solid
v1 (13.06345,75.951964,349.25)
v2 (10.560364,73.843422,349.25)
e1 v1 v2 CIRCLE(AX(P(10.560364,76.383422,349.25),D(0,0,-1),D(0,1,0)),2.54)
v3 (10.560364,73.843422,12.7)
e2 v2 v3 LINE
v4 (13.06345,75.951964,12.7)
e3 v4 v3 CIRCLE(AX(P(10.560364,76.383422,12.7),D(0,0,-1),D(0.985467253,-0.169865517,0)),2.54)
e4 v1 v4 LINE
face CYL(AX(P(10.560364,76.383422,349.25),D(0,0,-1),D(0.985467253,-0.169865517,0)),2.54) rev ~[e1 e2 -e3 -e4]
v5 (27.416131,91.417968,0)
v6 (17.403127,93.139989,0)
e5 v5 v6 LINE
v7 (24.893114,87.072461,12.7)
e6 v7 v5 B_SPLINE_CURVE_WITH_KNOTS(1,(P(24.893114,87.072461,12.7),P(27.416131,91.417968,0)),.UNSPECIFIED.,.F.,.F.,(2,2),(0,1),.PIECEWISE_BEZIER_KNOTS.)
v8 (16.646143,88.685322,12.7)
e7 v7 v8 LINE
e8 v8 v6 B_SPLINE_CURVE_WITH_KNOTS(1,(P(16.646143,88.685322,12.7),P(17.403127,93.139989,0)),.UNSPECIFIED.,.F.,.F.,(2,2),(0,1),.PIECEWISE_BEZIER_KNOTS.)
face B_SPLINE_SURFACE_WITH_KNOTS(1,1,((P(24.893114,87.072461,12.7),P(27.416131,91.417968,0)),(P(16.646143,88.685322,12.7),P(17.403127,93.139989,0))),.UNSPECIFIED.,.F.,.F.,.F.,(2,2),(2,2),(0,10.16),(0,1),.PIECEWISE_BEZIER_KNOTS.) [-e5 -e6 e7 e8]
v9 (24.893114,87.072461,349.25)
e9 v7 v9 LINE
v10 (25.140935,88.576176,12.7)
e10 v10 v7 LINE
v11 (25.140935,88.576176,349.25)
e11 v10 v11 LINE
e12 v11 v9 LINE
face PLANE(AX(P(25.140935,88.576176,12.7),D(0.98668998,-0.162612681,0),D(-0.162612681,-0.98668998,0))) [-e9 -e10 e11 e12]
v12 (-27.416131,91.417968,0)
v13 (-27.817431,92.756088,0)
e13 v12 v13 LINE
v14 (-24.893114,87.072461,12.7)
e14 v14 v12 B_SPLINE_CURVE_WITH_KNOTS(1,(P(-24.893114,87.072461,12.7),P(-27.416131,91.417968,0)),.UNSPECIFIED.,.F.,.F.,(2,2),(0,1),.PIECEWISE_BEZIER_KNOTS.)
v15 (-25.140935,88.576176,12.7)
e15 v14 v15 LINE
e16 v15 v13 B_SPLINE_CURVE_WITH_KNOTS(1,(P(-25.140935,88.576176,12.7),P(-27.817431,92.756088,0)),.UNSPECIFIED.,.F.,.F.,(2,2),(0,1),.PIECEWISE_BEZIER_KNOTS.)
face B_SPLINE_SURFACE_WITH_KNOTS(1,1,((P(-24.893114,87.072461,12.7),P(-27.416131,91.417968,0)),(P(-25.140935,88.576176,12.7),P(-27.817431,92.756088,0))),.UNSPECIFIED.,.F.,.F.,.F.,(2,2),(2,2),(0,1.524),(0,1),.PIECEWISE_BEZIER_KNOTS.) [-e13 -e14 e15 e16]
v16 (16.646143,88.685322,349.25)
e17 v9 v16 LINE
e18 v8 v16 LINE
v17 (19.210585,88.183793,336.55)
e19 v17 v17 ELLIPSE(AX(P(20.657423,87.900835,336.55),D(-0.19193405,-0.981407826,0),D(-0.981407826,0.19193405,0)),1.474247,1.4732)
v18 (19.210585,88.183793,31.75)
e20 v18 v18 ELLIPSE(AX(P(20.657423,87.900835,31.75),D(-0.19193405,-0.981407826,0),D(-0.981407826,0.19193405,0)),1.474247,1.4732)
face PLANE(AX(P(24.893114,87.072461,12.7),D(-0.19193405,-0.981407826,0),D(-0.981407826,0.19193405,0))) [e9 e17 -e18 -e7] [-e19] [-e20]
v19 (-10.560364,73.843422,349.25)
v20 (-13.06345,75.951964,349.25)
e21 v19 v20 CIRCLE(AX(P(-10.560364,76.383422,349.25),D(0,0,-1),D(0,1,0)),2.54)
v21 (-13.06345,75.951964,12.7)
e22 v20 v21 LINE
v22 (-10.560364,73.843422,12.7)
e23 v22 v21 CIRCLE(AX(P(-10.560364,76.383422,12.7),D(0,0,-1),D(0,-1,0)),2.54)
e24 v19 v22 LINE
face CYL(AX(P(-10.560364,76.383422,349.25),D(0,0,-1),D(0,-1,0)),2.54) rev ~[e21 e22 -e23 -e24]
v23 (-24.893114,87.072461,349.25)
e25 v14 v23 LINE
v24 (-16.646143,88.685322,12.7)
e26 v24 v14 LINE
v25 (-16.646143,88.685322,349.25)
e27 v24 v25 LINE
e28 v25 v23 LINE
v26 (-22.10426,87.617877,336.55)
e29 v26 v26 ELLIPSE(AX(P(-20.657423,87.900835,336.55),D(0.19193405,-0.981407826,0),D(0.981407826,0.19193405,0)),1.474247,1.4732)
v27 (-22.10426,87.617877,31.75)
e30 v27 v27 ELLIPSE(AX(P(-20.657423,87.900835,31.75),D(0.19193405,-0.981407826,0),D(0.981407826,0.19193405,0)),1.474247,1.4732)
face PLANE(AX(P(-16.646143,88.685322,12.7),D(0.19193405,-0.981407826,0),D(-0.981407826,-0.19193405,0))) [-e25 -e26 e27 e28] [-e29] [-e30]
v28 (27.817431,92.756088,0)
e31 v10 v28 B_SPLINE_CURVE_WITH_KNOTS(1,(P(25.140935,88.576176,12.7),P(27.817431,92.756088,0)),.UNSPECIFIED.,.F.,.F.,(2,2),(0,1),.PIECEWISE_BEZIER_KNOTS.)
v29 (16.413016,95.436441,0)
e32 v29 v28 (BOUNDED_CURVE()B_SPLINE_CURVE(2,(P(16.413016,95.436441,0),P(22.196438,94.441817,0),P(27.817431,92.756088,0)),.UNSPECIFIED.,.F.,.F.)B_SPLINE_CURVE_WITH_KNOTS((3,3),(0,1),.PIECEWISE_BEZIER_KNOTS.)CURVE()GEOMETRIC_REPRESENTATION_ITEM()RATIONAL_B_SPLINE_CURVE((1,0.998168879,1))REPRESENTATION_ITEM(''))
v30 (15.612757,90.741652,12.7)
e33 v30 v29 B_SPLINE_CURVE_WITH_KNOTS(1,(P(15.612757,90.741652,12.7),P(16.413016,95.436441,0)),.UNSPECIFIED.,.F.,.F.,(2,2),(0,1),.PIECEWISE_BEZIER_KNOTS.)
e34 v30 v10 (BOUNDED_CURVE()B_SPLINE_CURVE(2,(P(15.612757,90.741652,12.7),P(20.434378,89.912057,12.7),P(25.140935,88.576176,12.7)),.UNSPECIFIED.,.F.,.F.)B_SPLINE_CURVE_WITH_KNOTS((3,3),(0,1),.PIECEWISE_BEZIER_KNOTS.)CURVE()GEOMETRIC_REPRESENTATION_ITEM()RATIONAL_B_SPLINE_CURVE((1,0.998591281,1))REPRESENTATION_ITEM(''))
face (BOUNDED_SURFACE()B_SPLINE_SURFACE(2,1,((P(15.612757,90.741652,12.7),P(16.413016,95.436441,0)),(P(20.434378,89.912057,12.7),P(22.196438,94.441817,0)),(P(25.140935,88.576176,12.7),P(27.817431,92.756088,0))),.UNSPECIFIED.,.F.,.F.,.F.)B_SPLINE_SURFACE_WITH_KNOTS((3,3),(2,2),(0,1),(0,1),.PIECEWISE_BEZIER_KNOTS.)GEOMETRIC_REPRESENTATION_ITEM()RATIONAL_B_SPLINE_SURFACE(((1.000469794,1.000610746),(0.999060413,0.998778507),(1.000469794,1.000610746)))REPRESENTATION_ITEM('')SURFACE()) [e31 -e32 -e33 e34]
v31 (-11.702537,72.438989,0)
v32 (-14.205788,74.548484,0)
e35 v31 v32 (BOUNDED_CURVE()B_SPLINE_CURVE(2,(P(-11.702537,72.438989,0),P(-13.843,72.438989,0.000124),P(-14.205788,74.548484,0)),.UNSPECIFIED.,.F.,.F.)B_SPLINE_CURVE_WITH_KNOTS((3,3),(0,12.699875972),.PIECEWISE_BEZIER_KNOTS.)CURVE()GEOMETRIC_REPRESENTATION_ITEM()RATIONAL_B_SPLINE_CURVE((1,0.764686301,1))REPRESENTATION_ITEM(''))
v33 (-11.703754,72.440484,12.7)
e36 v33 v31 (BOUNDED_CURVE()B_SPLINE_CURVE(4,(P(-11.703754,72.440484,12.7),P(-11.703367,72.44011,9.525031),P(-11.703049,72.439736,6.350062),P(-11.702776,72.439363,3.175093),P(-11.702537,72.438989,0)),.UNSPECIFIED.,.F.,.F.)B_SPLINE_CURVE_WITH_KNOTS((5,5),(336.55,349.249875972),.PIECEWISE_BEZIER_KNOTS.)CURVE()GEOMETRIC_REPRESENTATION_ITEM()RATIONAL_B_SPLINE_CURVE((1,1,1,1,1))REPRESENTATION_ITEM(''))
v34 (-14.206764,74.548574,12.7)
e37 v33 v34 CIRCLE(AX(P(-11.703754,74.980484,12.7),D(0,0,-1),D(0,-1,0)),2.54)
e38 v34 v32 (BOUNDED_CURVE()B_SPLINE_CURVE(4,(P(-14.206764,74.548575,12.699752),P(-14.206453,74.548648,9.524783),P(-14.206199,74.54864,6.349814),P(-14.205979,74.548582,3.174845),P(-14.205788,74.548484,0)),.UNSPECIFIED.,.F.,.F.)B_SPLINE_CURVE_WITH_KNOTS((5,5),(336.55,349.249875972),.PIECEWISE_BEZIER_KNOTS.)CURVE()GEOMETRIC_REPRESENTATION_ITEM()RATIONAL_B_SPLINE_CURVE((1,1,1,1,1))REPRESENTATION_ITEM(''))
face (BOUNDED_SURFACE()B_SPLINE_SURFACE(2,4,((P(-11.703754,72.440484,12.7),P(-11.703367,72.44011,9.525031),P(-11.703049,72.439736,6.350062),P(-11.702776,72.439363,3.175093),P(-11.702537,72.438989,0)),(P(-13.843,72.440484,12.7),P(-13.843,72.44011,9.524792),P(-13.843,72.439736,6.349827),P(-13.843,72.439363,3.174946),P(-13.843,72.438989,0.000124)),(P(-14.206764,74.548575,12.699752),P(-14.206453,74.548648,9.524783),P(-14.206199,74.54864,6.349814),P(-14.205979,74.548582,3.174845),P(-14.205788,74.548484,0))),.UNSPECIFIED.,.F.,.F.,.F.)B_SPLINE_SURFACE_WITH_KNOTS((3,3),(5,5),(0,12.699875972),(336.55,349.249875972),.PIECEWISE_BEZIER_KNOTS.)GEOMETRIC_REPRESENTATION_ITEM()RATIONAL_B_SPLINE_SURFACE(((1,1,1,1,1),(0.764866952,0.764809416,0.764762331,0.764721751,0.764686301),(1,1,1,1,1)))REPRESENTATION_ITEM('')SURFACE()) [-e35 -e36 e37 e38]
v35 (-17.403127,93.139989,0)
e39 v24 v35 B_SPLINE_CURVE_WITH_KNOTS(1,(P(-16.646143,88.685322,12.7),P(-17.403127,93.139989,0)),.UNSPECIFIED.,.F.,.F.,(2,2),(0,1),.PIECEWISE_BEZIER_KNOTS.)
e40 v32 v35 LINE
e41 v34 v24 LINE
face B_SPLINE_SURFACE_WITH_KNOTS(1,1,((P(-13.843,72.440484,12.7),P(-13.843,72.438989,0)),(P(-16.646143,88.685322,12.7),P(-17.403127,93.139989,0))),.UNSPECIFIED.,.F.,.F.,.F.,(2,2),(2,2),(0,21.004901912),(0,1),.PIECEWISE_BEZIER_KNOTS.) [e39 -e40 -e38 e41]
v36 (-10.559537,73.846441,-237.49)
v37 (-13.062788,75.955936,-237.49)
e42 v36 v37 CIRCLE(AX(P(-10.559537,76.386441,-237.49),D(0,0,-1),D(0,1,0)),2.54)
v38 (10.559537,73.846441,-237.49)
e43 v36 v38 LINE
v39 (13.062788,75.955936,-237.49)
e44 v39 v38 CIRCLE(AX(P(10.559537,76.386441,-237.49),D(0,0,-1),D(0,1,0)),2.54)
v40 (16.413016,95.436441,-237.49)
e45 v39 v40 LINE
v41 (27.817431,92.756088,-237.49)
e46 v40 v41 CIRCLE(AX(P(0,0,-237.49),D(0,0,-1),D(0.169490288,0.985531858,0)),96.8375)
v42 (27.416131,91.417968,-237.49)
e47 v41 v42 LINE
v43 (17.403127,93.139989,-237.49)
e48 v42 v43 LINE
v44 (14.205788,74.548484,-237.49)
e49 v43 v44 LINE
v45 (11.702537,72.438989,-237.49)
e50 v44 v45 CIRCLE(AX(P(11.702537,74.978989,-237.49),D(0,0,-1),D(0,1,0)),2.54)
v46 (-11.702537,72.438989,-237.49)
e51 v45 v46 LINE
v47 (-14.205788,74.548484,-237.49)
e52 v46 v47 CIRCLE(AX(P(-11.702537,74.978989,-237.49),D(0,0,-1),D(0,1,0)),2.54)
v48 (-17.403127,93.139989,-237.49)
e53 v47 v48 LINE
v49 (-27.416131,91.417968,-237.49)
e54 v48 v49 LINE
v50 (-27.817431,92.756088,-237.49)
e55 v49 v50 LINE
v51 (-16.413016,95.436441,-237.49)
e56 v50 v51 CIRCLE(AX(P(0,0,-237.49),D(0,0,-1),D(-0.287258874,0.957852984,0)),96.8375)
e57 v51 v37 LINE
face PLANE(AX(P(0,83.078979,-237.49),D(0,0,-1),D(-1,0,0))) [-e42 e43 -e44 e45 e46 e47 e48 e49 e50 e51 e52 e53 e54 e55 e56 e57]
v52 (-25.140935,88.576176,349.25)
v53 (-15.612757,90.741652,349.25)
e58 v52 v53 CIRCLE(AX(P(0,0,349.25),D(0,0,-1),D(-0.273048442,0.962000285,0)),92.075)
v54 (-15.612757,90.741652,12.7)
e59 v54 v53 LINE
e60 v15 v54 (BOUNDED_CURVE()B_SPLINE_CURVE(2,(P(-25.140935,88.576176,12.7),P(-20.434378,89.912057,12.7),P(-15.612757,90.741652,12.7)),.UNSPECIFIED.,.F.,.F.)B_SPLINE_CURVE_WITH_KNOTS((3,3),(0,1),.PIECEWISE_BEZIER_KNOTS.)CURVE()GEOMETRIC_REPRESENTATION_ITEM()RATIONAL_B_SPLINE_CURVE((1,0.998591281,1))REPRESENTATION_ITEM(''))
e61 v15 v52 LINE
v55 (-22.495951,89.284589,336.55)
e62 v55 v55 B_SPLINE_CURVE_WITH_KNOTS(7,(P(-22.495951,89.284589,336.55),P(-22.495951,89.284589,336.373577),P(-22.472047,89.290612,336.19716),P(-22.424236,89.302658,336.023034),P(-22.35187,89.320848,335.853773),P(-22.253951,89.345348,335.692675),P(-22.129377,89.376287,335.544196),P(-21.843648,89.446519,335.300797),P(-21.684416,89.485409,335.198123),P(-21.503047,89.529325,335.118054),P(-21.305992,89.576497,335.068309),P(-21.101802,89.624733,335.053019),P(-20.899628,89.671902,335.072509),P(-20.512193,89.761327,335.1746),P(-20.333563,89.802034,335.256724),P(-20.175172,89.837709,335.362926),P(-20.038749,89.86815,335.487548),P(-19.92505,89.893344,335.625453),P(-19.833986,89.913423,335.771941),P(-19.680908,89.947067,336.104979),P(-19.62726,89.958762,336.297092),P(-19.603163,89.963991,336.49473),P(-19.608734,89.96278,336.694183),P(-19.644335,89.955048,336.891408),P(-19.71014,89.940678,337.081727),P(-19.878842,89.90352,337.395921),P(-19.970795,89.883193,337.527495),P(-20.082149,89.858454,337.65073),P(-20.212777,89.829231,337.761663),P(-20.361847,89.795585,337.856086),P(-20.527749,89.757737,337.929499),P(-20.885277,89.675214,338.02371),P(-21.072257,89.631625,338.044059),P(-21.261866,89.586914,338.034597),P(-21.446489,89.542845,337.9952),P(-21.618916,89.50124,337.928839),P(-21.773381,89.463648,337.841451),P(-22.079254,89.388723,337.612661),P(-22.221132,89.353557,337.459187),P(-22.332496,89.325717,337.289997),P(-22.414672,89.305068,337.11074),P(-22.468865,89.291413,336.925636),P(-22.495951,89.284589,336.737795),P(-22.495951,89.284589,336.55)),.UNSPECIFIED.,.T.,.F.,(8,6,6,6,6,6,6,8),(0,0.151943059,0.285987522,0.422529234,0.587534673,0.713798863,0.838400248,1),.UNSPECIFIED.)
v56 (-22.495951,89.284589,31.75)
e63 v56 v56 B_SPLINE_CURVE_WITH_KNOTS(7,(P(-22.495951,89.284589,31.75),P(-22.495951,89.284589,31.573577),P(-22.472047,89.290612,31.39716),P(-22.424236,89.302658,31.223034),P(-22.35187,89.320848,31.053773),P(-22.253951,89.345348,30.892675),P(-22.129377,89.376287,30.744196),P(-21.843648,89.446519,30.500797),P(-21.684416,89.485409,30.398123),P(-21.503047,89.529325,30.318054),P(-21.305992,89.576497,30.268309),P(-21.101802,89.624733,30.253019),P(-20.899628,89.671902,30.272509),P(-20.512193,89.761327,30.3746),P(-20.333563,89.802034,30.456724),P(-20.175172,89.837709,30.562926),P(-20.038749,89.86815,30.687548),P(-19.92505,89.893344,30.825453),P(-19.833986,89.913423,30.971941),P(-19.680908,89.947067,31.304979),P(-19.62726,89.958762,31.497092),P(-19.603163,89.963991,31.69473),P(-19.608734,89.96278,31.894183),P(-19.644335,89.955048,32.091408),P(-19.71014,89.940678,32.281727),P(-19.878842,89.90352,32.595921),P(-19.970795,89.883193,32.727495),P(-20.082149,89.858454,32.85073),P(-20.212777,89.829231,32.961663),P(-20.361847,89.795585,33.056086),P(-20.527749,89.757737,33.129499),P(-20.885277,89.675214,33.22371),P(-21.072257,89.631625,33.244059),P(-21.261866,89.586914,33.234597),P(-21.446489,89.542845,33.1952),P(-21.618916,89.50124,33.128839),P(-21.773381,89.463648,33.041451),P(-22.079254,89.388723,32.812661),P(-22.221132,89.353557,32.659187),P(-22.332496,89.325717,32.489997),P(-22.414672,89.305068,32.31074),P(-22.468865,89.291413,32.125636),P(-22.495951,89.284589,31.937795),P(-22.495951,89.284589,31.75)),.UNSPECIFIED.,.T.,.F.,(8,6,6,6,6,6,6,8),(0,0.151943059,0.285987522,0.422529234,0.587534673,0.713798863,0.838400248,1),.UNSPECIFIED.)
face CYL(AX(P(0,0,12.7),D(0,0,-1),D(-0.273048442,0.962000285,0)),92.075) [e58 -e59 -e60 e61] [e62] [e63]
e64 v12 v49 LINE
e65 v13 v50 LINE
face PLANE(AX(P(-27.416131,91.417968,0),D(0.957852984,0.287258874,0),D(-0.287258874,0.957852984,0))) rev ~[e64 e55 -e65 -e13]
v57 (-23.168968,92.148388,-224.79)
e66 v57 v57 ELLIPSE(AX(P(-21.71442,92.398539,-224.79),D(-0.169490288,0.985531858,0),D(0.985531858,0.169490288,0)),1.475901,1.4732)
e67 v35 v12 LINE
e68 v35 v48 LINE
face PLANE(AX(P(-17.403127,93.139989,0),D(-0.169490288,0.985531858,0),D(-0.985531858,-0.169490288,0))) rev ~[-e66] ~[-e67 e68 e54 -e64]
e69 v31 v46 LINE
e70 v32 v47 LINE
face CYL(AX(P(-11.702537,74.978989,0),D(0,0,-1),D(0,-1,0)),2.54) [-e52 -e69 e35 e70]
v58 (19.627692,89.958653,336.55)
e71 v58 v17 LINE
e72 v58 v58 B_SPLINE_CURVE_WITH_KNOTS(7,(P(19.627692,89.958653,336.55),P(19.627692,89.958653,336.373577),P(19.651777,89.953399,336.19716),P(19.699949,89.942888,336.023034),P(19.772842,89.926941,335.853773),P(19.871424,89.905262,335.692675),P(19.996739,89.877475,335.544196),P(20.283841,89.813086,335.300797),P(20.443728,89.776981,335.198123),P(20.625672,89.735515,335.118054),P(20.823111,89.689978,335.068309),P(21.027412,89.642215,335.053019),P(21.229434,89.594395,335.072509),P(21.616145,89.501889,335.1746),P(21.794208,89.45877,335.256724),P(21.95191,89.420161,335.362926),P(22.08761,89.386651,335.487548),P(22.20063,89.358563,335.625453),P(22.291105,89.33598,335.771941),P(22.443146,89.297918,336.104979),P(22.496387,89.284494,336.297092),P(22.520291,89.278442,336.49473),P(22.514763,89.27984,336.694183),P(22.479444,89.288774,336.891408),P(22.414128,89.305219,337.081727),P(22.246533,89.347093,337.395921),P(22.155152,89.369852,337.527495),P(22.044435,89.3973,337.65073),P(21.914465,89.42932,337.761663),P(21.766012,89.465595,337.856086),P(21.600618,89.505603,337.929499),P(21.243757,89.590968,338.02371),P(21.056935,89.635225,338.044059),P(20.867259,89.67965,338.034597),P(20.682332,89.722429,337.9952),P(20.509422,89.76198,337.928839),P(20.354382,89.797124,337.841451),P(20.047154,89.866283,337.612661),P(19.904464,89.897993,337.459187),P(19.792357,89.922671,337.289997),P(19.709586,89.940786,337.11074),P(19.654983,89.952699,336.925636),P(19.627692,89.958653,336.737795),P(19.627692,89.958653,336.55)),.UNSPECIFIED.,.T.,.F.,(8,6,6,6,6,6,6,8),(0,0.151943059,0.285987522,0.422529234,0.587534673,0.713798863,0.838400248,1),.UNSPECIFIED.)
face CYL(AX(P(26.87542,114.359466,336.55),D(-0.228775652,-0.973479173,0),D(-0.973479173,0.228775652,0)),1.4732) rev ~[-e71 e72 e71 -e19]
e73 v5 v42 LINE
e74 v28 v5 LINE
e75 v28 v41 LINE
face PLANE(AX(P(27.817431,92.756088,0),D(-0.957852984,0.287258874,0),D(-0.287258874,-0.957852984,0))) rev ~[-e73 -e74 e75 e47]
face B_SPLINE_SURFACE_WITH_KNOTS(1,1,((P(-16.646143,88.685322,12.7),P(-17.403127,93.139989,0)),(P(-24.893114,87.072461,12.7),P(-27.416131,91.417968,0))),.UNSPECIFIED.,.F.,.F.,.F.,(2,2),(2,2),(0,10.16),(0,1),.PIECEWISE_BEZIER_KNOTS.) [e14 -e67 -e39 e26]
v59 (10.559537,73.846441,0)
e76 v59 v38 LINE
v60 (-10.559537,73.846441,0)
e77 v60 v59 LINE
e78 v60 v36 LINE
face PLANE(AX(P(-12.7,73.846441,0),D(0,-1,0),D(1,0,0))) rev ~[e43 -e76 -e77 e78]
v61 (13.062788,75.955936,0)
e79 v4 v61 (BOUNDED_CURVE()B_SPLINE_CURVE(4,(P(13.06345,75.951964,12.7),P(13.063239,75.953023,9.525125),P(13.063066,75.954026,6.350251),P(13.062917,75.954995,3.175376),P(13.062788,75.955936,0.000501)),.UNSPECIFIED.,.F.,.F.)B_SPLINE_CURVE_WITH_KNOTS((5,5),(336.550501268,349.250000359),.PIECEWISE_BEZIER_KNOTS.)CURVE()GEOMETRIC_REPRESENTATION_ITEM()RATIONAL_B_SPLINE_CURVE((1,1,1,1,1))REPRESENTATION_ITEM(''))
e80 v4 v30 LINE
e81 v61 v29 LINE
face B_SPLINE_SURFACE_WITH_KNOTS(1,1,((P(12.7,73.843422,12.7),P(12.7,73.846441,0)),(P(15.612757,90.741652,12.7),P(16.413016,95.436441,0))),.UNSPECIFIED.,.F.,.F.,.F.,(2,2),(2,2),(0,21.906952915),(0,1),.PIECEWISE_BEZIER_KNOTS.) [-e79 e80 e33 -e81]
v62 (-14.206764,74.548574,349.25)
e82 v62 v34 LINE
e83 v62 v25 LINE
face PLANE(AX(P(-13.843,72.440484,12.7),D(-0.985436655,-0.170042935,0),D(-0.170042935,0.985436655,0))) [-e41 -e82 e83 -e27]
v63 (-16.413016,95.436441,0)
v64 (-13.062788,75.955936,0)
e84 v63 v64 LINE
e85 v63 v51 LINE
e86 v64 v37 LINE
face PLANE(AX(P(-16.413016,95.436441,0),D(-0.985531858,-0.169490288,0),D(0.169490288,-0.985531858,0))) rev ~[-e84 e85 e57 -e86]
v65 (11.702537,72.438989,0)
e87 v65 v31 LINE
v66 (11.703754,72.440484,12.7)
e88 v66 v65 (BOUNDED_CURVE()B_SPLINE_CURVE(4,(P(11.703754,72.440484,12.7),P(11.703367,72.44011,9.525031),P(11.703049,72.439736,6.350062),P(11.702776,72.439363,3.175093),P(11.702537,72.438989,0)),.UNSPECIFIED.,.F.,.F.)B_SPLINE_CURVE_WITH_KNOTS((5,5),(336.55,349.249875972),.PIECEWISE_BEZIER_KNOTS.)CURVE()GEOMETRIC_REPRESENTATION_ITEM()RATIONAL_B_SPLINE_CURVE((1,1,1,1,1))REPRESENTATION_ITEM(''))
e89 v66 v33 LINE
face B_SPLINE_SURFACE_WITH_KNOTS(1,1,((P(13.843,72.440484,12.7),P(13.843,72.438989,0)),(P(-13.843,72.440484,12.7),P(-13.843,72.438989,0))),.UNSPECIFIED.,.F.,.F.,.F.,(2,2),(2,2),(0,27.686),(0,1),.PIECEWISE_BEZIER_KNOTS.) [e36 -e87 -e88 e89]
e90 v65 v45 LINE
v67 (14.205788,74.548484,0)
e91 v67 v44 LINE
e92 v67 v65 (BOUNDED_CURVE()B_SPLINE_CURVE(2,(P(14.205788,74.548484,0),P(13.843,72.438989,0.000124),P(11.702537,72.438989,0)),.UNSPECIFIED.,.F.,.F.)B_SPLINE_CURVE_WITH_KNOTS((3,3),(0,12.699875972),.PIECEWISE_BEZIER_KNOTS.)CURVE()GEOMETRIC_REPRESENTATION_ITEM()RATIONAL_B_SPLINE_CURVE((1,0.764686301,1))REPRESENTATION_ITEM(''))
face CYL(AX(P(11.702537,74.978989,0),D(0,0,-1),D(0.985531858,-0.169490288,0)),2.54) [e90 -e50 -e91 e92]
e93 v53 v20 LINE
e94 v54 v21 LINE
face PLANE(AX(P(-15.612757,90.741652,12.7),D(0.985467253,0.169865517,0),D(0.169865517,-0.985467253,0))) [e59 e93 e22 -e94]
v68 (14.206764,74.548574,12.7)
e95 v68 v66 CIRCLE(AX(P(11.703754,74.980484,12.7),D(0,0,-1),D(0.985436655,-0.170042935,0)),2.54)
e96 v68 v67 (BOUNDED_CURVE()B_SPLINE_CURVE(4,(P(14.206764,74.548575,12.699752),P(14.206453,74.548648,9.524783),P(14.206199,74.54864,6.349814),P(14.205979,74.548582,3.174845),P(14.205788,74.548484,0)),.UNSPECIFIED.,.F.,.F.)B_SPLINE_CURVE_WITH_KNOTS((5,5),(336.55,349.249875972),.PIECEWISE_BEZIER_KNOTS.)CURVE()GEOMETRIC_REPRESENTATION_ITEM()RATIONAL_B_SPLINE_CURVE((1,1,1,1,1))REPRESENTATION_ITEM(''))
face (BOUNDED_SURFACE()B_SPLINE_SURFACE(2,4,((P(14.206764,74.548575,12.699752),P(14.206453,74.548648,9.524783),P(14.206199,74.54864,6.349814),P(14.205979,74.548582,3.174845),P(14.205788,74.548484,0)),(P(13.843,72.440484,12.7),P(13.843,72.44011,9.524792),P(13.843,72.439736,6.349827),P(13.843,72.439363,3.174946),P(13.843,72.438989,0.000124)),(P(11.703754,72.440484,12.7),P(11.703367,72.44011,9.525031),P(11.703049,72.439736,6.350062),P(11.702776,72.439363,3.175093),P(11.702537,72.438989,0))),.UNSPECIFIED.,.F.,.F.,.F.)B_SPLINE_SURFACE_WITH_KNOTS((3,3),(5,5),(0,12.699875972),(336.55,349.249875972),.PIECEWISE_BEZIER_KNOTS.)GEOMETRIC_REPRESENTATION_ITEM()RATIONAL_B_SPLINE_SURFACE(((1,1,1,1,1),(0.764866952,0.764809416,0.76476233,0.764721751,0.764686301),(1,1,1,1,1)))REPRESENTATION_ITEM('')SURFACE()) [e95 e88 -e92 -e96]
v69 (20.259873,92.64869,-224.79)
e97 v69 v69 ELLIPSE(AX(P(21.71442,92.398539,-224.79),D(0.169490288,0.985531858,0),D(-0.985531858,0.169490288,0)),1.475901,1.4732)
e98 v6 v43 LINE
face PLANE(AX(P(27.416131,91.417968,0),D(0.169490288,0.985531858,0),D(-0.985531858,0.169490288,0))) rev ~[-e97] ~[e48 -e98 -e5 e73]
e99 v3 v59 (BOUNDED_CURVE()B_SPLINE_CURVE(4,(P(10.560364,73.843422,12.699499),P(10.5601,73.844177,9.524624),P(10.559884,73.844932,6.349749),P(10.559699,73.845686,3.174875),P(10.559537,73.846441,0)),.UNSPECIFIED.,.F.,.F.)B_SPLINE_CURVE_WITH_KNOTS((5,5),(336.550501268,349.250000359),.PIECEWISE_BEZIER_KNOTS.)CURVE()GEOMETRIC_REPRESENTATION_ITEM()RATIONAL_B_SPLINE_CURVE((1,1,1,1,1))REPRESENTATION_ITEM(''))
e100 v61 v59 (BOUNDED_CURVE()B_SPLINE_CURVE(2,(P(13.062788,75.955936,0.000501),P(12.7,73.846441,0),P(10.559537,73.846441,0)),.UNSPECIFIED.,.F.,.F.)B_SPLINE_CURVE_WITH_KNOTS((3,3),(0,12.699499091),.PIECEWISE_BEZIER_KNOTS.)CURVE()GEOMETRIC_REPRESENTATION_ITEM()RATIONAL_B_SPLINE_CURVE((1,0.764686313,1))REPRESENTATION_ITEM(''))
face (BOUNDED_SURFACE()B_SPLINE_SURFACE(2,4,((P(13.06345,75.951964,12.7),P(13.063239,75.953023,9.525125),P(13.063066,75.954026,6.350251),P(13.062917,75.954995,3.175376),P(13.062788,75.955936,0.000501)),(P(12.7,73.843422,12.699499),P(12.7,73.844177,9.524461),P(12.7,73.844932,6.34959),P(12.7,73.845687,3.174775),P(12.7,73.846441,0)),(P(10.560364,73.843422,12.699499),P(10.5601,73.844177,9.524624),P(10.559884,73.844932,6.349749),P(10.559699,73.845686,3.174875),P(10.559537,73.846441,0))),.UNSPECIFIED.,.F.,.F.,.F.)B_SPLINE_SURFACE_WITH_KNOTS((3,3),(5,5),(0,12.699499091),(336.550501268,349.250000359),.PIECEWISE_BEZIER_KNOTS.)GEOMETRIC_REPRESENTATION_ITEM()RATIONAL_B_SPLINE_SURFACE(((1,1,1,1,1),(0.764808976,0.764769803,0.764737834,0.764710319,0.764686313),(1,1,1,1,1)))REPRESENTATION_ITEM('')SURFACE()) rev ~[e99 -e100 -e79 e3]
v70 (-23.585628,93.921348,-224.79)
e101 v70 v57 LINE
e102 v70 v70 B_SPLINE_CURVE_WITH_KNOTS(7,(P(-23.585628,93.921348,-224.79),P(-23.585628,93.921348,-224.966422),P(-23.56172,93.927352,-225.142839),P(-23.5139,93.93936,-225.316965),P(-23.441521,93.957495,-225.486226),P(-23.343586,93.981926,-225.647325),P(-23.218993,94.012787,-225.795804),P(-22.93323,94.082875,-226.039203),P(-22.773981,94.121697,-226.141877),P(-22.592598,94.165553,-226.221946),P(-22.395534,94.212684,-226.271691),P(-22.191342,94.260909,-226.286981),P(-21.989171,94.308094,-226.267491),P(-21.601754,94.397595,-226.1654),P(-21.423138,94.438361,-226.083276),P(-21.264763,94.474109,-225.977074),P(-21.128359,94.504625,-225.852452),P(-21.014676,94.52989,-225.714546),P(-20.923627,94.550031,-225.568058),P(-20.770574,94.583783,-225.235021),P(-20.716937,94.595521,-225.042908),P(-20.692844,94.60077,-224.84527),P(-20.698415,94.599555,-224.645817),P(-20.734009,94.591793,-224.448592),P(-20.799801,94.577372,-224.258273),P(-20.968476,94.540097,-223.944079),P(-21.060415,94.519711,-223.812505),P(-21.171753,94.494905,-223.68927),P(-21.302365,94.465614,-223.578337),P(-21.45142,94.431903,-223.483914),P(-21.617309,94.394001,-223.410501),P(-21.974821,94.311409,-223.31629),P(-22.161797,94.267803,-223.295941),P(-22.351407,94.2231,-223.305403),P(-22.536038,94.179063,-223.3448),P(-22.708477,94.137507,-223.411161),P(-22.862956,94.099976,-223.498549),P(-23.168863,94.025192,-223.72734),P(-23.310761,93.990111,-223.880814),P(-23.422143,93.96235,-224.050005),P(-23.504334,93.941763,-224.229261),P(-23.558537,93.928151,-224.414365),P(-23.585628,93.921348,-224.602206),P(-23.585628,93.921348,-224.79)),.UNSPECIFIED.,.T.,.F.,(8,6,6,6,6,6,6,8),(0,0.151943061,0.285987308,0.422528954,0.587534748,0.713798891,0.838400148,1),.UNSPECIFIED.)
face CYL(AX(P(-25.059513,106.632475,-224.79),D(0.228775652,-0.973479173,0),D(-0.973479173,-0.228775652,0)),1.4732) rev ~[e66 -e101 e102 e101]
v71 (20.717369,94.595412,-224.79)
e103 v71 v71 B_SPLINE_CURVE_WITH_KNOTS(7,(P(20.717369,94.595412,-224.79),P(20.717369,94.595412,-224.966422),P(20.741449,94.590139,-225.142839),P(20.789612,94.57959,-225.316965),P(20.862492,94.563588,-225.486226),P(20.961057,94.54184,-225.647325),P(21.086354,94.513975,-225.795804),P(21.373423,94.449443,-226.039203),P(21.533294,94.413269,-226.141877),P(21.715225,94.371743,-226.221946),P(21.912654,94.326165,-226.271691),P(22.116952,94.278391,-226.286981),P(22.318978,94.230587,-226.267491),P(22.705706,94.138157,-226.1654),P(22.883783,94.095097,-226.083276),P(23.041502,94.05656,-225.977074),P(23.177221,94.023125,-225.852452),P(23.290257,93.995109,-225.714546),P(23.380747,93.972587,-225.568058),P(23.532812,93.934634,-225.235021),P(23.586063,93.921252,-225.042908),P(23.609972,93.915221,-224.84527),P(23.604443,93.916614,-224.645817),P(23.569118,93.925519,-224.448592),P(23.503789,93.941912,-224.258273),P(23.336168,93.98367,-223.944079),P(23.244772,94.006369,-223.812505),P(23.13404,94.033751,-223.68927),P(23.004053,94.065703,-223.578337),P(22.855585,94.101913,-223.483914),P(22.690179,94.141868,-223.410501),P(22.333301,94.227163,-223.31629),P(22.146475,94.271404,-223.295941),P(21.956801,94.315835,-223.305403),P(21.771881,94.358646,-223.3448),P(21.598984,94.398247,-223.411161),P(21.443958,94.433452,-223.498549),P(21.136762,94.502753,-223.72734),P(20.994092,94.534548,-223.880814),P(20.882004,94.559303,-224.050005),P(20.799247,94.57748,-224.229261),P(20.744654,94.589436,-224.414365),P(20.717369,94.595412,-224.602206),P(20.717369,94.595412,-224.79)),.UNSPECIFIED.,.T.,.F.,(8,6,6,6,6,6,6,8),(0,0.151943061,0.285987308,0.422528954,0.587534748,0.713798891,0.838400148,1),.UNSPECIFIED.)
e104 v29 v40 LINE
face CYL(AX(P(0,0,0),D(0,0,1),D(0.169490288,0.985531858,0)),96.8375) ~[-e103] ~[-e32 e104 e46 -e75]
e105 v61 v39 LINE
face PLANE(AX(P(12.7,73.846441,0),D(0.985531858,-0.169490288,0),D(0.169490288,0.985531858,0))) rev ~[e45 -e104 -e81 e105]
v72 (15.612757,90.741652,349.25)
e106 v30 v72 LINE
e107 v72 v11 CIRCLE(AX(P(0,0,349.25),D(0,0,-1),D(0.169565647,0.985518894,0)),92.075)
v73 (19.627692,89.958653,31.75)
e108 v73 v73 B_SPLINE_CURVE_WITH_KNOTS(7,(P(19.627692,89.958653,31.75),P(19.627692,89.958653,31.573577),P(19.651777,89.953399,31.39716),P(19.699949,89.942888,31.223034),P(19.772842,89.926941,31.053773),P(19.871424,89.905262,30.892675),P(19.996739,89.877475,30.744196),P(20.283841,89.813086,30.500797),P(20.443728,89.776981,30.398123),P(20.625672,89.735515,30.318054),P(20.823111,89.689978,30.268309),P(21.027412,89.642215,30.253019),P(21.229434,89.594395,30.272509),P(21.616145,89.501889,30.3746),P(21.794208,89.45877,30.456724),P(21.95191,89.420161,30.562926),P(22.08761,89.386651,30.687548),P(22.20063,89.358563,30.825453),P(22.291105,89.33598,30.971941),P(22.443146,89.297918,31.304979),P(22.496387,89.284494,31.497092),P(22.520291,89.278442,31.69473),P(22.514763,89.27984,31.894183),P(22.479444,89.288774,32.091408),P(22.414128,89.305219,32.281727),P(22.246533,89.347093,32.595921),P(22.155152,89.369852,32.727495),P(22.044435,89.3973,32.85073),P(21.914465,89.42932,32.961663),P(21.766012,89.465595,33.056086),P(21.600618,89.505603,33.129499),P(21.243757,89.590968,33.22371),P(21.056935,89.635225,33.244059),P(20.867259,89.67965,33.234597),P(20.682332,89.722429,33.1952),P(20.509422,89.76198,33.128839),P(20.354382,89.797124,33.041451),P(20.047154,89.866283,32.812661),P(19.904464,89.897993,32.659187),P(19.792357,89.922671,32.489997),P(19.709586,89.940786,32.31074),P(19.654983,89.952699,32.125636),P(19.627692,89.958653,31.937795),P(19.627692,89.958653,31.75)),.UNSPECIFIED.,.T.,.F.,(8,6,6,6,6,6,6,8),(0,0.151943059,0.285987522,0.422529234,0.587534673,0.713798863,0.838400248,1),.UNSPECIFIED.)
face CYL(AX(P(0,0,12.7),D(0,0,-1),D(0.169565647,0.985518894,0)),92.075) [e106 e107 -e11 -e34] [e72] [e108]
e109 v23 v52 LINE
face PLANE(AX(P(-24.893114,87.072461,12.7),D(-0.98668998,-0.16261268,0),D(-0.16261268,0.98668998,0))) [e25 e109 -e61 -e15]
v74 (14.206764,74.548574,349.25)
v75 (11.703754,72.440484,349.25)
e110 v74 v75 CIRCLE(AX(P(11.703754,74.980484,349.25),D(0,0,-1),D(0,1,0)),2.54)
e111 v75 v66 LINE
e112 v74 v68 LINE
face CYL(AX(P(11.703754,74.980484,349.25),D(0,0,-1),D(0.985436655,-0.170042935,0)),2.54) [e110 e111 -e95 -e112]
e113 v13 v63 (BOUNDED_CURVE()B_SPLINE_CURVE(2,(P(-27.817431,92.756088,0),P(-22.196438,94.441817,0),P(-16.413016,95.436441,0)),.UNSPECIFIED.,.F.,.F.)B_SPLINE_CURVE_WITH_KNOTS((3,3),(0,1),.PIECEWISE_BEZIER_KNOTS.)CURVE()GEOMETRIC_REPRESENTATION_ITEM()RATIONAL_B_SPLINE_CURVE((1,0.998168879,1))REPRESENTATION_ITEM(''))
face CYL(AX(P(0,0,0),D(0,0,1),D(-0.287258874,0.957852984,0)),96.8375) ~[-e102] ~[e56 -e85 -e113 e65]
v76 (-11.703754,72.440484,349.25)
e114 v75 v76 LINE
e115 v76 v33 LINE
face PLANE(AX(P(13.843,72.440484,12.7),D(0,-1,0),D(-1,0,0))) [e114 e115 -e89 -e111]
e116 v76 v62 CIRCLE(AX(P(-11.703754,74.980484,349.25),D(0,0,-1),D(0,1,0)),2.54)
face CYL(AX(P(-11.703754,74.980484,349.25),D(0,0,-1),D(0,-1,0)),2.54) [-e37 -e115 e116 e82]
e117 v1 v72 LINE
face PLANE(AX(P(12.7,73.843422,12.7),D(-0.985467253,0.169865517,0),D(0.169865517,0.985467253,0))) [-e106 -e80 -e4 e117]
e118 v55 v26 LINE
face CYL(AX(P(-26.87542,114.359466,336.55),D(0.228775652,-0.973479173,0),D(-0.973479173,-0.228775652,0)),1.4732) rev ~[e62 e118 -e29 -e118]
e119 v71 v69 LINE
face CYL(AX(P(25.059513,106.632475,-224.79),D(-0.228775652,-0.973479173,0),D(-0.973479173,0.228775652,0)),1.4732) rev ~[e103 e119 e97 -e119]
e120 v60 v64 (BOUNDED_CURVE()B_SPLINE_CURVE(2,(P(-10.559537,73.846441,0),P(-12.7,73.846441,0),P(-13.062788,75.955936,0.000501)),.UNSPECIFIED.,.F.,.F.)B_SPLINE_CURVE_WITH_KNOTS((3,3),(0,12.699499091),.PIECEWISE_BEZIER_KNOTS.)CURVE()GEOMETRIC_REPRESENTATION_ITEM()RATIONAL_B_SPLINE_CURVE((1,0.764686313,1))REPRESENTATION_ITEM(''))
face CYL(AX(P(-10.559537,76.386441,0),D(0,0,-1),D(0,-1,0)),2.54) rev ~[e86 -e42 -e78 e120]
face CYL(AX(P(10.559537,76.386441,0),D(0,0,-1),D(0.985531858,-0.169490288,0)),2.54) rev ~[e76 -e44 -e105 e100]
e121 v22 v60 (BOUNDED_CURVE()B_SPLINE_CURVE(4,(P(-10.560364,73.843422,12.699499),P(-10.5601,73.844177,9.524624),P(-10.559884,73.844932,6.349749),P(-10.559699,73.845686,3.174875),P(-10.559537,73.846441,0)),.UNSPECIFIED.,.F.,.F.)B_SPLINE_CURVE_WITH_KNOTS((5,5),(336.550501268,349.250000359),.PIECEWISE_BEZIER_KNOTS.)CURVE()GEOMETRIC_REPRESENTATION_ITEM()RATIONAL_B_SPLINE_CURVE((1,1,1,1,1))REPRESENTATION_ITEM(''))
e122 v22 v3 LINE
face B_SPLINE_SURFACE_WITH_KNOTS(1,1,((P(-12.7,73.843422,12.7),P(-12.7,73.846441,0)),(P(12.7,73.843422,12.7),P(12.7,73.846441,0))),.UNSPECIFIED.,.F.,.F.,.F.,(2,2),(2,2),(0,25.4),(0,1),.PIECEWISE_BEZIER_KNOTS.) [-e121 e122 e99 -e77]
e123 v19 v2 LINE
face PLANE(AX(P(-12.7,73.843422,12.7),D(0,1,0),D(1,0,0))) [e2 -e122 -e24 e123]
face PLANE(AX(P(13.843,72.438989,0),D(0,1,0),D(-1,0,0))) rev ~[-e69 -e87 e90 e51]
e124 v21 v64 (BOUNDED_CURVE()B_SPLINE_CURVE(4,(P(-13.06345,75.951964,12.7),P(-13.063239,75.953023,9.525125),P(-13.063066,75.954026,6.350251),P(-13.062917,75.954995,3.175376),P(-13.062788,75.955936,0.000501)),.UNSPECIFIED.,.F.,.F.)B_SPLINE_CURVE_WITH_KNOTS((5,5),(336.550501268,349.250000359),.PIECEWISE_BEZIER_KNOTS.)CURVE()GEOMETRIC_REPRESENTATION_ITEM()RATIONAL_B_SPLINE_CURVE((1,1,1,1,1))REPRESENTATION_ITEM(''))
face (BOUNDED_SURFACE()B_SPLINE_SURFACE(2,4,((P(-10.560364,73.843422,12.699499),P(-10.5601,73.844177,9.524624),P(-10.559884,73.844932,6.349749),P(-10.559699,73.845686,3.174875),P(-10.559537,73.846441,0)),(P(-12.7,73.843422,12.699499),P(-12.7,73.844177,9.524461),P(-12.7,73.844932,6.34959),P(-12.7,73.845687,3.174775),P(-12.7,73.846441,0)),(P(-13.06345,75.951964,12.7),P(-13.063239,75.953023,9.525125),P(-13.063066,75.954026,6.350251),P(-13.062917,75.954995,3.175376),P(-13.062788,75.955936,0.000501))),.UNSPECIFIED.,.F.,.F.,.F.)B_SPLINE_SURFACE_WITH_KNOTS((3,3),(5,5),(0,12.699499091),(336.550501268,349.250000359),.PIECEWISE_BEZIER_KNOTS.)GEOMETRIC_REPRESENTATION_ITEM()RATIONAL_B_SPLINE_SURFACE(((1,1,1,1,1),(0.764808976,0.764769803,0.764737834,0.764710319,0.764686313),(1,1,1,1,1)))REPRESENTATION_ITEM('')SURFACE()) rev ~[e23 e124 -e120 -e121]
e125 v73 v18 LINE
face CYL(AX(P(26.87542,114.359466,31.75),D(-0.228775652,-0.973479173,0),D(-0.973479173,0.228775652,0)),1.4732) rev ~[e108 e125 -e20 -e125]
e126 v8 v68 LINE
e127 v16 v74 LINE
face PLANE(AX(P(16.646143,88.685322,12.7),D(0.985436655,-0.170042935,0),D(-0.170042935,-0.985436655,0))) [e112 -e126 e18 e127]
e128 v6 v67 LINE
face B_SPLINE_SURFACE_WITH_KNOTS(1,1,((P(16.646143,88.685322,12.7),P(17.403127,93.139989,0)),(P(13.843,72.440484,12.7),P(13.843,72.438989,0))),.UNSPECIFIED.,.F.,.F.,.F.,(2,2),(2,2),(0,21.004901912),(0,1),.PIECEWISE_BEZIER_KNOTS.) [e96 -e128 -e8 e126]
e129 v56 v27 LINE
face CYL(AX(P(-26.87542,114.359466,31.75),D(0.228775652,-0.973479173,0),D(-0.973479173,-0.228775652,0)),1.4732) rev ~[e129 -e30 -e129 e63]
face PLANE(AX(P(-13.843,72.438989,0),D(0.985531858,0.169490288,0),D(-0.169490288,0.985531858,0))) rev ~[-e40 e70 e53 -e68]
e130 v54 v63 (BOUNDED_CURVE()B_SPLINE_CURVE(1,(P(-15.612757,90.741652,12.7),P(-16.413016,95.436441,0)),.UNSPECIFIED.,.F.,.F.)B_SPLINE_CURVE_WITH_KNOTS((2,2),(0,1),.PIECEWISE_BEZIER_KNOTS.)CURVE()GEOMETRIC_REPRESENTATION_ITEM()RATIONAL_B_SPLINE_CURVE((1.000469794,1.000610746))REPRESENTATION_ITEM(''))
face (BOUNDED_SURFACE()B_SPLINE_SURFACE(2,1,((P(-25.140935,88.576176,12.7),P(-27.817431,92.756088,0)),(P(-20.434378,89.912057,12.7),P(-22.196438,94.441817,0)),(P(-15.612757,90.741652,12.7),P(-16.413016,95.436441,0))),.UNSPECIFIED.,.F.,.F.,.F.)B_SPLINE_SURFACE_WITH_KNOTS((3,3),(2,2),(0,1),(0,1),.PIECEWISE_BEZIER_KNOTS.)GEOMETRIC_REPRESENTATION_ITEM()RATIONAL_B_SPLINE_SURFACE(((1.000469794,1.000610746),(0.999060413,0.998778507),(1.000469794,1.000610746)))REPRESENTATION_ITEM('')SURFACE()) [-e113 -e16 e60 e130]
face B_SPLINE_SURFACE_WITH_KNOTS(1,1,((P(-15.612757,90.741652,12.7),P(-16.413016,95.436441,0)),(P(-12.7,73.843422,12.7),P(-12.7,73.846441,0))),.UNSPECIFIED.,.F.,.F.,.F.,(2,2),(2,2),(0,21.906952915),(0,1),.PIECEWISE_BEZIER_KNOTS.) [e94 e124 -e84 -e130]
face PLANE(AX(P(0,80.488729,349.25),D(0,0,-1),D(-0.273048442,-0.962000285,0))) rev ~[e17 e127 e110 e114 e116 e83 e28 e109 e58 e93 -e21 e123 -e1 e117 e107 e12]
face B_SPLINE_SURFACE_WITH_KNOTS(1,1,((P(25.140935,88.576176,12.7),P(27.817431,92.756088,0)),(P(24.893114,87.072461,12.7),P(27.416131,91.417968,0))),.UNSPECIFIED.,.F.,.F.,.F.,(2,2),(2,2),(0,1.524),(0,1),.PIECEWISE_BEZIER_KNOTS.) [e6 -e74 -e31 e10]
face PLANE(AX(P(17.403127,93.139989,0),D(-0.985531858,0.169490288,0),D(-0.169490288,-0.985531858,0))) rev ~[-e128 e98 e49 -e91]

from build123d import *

# Parameters (mm, degrees)
BOSS_EXTRUDE1_DEPTH       = 237.49
BOSS_EXTRUDE2_DEPTH       = 336.55
FILLET1_R                 = 2.54
FILLET2_R                 = 2.54
F_4_CLEARANCE_HOLE3_D     = 2.9464
F_4_CLEARANCE_HOLE3_DEPTH = 25.4
F_4_CLEARANCE_HOLE3_TIP   = 0.885187864
F_4_CLEARANCE_HOLE4_D     = 2.9464
F_4_CLEARANCE_HOLE4_DEPTH = 25.4
F_4_CLEARANCE_HOLE4_TIP   = 0.885187864
F_4_CLEARANCE_HOLE5_D     = 2.9464
F_4_CLEARANCE_HOLE5_DEPTH = 12.7
F_4_CLEARANCE_HOLE5_TIP   = 0.885187864
F_4_CLEARANCE_HOLE6_D     = 2.9464
F_4_CLEARANCE_HOLE6_DEPTH = 12.7
F_4_CLEARANCE_HOLE6_TIP   = 0.885187864


with BuildPart() as part:
    # 3DSketch1 for Loft2 → Loft2 section 0
    with BuildSketch(Plane(origin=(25.14093528, 88.576176245, 12.7), x_dir=(-0.2730484418088959, -0.9620002850445181, 0), z_dir=(0, 0, -1))):
        with BuildLine():
            Line((0, 0), (1.514242104, -0.172182612))
            Line((1.514242104, -0.172182612), (2.214491758, 8.20179449))
            Line((2.214491758, 8.20179449), (18.60742462, 6.462791205))
            Line((18.60742462, 6.462791205), (26.167043779, 33.096731096))
            Line((26.167043779, 33.096731096), (11.304898639, 40.22898334))
            Line((11.304898639, 40.22898334), (15.108293839, 47.722182058))
            Line((15.108293839, 47.722182058), (13.729386407, 48.37117381))
            # circular arc as an exact rational Bezier (weights 1, cos(half-angle), 1)
            Bezier((13.729386407, 48.37117381), (11.15915023, 44.208224795), (9.044543669, 39.796343381), weights=[1, 0.998591281, 1])
            Line((9.044543669, 39.796343381), (24.505322138, 32.380234952))
            Line((24.505322138, 32.380234952), (17.569891716, 7.945427712))
            Line((17.569891716, 7.945427712), (0.518465753, 9.757390103))
            Bezier((0.518465753, 9.757390103), (0, 4.892469572), (0, 0), weights=[1, 0.998591281, 1])
        make_face()
    # Sketch1 for Loft2 → Loft2 section 1
    with BuildSketch(Plane.XY):
        with BuildLine():
            Line((-12.7, 73.846441258), (12.7, 73.846441258))
            Line((12.7, 73.846441258), (16.413015757, 95.436441258))
            Bezier((16.413015757, 95.436441258), (22.196437798, 94.441817026), (27.817431193, 92.756088361), weights=[1, 0.998168879, 1])
            Line((27.817431193, 92.756088361), (27.416130546, 91.417967742))
            Line((27.416130546, 91.417967742), (17.403126873, 93.139989068))
            Line((17.403126873, 93.139989068), (13.843, 72.438989068))
            Line((13.843, 72.438989068), (-13.843, 72.438989068))
            Line((-13.843, 72.438989068), (-17.403126873, 93.139989068))
            Line((-17.403126873, 93.139989068), (-27.416130546, 91.417967742))
            Line((-27.416130546, 91.417967742), (-27.817431193, 92.756088361))
            Bezier((-27.817431193, 92.756088361), (-22.196437798, 94.441817026), (-16.413015757, 95.436441258), weights=[1, 0.998168879, 1])
            Line((-16.413015757, 95.436441258), (-12.7, 73.846441258))
        make_face()
    loft()

    # Sketch1<4> → Boss-Extrude1 (add)
    with BuildSketch(Plane.XY):
        with BuildLine():
            Line((-12.7, 73.846441258), (12.7, 73.846441258))
            Line((12.7, 73.846441258), (16.413015757, 95.436441258))
            ThreePointArc((16.413015757, 95.436441258), (22.155793424, 94.268882586), (27.817431193, 92.756088361))
            Line((27.817431193, 92.756088361), (27.416130546, 91.417967742))
            Line((27.416130546, 91.417967742), (17.403126873, 93.139989068))
            Line((17.403126873, 93.139989068), (13.843, 72.438989068))
            Line((13.843, 72.438989068), (-13.843, 72.438989068))
            Line((-13.843, 72.438989068), (-17.403126873, 93.139989068))
            Line((-17.403126873, 93.139989068), (-27.416130546, 91.417967742))
            Line((-27.416130546, 91.417967742), (-27.817431193, 92.756088361))
            ThreePointArc((-27.817431193, 92.756088361), (-22.155793424, 94.268882586), (-16.413015757, 95.436441258))
            Line((-16.413015757, 95.436441258), (-12.7, 73.846441258))
        make_face()
    extrude(amount=-BOSS_EXTRUDE1_DEPTH)

    # 3DSketch1<4> → Boss-Extrude2 (add)
    with BuildSketch(Plane(origin=(25.14093528, 88.576176245, 12.7), x_dir=(-0.2730484418088959, -0.9620002850445181, 0), z_dir=(0, 0, -1))):
        with BuildLine():
            Line((0, 0), (1.514242104, -0.172182612))
            Line((1.514242104, -0.172182612), (2.214491758, 8.20179449))
            Line((2.214491758, 8.20179449), (18.60742462, 6.462791205))
            Line((18.60742462, 6.462791205), (26.167043779, 33.096731096))
            Line((26.167043779, 33.096731096), (11.304898639, 40.22898334))
            Line((11.304898639, 40.22898334), (15.108293839, 47.722182058))
            Line((15.108293839, 47.722182058), (13.729386407, 48.37117381))
            ThreePointArc((13.729386407, 48.37117381), (11.273137923, 44.14594783), (9.044543669, 39.796343381))
            Line((9.044543669, 39.796343381), (24.505322138, 32.380234952))
            Line((24.505322138, 32.380234952), (17.569891716, 7.945427712))
            Line((17.569891716, 7.945427712), (0.518465753, 9.757390103))
            ThreePointArc((0.518465753, 9.757390103), (0.129707799, 4.885577457), (0, 0))
        make_face()
    extrude(amount=-BOSS_EXTRUDE2_DEPTH)

    # Fillet1
    fillet1_edges = [part.edges().sort_by_distance(p)[0] for p in [
        (-13.843, 72.438989068, -118.745),
        (-13.843, 72.439736297, 6.35),
        (13.843, 72.438989068, -118.745),
        (13.843, 72.439736297, 6.35),
        (-13.843, 72.440483526, 180.975),
        (13.843, 72.440483526, 180.975),
    ]]
    fillet(fillet1_edges, radius=FILLET1_R)

    # Fillet2
    fillet2_edges = [part.edges().sort_by_distance(p)[0] for p in [
        (-12.7, 73.846441258, -118.745),
        (-12.7, 73.844931661, 6.35),
        (12.7, 73.846441258, -118.745),
        (12.7, 73.844931661, 6.35),
        (-12.7, 73.843422063, 180.975),
        (12.7, 73.843422063, 180.975),
    ]]
    fillet(fillet2_edges, radius=FILLET2_R)

    # #4 Clearance Hole3
    with Locations(Plane(origin=(21.064518185, 89.633094885, 0), x_dir=(0.9734791733351508, -0.22877565229436342, 0), z_dir=(0.22877565229436345, 0.9734791733351509, 0))):
        with Locations((0, -336.55), (0, -31.75)):
            Hole(F_4_CLEARANCE_HOLE3_D / 2, depth=F_4_CLEARANCE_HOLE3_DEPTH)
            with Locations((0, 0, -(F_4_CLEARANCE_HOLE3_DEPTH + F_4_CLEARANCE_HOLE3_TIP / 2))):  # 118° drill point
                Cone(0, F_4_CLEARANCE_HOLE3_D / 2, F_4_CLEARANCE_HOLE3_TIP, mode=Mode.SUBTRACT)

    # #4 Clearance Hole4
    with Locations(Plane(origin=(-21.064518185, 89.633094885, 0), x_dir=(0.9734791733351509, 0.2287756522943629, 0), z_dir=(-0.2287756522943629, 0.9734791733351509, 0))):
        with Locations((0, -336.55), (0, -31.75)):
            Hole(F_4_CLEARANCE_HOLE4_D / 2, depth=F_4_CLEARANCE_HOLE4_DEPTH)
            with Locations((0, 0, -(F_4_CLEARANCE_HOLE4_DEPTH + F_4_CLEARANCE_HOLE4_TIP / 2))):  # 118° drill point
                Cone(0, F_4_CLEARANCE_HOLE4_D / 2, F_4_CLEARANCE_HOLE4_TIP, mode=Mode.SUBTRACT)

    # #4 Clearance Hole5
    with Locations(Plane(origin=(-22.154062229, 94.269289448, 0), x_dir=(0.9734791733351509, 0.2287756522943629, 0), z_dir=(-0.2287756522943629, 0.9734791733351509, 0))):
        with Locations((0, 224.79)):
            Hole(F_4_CLEARANCE_HOLE5_D / 2, depth=F_4_CLEARANCE_HOLE5_DEPTH)
            with Locations((0, 0, -(F_4_CLEARANCE_HOLE5_DEPTH + F_4_CLEARANCE_HOLE5_TIP / 2))):  # 118° drill point
                Cone(0, F_4_CLEARANCE_HOLE5_D / 2, F_4_CLEARANCE_HOLE5_TIP, mode=Mode.SUBTRACT)

    # #4 Clearance Hole6
    with Locations(Plane(origin=(22.154062229, 94.269289448, 0), x_dir=(0.9734791733351508, -0.22877565229436342, 0), z_dir=(0.22877565229436345, 0.9734791733351509, 0))):
        with Locations((0, 224.79)):
            Hole(F_4_CLEARANCE_HOLE6_D / 2, depth=F_4_CLEARANCE_HOLE6_DEPTH)
            with Locations((0, 0, -(F_4_CLEARANCE_HOLE6_DEPTH + F_4_CLEARANCE_HOLE6_TIP / 2))):  # 118° drill point
                Cone(0, F_4_CLEARANCE_HOLE6_D / 2, F_4_CLEARANCE_HOLE6_TIP, mode=Mode.SUBTRACT)


solid = part.part
